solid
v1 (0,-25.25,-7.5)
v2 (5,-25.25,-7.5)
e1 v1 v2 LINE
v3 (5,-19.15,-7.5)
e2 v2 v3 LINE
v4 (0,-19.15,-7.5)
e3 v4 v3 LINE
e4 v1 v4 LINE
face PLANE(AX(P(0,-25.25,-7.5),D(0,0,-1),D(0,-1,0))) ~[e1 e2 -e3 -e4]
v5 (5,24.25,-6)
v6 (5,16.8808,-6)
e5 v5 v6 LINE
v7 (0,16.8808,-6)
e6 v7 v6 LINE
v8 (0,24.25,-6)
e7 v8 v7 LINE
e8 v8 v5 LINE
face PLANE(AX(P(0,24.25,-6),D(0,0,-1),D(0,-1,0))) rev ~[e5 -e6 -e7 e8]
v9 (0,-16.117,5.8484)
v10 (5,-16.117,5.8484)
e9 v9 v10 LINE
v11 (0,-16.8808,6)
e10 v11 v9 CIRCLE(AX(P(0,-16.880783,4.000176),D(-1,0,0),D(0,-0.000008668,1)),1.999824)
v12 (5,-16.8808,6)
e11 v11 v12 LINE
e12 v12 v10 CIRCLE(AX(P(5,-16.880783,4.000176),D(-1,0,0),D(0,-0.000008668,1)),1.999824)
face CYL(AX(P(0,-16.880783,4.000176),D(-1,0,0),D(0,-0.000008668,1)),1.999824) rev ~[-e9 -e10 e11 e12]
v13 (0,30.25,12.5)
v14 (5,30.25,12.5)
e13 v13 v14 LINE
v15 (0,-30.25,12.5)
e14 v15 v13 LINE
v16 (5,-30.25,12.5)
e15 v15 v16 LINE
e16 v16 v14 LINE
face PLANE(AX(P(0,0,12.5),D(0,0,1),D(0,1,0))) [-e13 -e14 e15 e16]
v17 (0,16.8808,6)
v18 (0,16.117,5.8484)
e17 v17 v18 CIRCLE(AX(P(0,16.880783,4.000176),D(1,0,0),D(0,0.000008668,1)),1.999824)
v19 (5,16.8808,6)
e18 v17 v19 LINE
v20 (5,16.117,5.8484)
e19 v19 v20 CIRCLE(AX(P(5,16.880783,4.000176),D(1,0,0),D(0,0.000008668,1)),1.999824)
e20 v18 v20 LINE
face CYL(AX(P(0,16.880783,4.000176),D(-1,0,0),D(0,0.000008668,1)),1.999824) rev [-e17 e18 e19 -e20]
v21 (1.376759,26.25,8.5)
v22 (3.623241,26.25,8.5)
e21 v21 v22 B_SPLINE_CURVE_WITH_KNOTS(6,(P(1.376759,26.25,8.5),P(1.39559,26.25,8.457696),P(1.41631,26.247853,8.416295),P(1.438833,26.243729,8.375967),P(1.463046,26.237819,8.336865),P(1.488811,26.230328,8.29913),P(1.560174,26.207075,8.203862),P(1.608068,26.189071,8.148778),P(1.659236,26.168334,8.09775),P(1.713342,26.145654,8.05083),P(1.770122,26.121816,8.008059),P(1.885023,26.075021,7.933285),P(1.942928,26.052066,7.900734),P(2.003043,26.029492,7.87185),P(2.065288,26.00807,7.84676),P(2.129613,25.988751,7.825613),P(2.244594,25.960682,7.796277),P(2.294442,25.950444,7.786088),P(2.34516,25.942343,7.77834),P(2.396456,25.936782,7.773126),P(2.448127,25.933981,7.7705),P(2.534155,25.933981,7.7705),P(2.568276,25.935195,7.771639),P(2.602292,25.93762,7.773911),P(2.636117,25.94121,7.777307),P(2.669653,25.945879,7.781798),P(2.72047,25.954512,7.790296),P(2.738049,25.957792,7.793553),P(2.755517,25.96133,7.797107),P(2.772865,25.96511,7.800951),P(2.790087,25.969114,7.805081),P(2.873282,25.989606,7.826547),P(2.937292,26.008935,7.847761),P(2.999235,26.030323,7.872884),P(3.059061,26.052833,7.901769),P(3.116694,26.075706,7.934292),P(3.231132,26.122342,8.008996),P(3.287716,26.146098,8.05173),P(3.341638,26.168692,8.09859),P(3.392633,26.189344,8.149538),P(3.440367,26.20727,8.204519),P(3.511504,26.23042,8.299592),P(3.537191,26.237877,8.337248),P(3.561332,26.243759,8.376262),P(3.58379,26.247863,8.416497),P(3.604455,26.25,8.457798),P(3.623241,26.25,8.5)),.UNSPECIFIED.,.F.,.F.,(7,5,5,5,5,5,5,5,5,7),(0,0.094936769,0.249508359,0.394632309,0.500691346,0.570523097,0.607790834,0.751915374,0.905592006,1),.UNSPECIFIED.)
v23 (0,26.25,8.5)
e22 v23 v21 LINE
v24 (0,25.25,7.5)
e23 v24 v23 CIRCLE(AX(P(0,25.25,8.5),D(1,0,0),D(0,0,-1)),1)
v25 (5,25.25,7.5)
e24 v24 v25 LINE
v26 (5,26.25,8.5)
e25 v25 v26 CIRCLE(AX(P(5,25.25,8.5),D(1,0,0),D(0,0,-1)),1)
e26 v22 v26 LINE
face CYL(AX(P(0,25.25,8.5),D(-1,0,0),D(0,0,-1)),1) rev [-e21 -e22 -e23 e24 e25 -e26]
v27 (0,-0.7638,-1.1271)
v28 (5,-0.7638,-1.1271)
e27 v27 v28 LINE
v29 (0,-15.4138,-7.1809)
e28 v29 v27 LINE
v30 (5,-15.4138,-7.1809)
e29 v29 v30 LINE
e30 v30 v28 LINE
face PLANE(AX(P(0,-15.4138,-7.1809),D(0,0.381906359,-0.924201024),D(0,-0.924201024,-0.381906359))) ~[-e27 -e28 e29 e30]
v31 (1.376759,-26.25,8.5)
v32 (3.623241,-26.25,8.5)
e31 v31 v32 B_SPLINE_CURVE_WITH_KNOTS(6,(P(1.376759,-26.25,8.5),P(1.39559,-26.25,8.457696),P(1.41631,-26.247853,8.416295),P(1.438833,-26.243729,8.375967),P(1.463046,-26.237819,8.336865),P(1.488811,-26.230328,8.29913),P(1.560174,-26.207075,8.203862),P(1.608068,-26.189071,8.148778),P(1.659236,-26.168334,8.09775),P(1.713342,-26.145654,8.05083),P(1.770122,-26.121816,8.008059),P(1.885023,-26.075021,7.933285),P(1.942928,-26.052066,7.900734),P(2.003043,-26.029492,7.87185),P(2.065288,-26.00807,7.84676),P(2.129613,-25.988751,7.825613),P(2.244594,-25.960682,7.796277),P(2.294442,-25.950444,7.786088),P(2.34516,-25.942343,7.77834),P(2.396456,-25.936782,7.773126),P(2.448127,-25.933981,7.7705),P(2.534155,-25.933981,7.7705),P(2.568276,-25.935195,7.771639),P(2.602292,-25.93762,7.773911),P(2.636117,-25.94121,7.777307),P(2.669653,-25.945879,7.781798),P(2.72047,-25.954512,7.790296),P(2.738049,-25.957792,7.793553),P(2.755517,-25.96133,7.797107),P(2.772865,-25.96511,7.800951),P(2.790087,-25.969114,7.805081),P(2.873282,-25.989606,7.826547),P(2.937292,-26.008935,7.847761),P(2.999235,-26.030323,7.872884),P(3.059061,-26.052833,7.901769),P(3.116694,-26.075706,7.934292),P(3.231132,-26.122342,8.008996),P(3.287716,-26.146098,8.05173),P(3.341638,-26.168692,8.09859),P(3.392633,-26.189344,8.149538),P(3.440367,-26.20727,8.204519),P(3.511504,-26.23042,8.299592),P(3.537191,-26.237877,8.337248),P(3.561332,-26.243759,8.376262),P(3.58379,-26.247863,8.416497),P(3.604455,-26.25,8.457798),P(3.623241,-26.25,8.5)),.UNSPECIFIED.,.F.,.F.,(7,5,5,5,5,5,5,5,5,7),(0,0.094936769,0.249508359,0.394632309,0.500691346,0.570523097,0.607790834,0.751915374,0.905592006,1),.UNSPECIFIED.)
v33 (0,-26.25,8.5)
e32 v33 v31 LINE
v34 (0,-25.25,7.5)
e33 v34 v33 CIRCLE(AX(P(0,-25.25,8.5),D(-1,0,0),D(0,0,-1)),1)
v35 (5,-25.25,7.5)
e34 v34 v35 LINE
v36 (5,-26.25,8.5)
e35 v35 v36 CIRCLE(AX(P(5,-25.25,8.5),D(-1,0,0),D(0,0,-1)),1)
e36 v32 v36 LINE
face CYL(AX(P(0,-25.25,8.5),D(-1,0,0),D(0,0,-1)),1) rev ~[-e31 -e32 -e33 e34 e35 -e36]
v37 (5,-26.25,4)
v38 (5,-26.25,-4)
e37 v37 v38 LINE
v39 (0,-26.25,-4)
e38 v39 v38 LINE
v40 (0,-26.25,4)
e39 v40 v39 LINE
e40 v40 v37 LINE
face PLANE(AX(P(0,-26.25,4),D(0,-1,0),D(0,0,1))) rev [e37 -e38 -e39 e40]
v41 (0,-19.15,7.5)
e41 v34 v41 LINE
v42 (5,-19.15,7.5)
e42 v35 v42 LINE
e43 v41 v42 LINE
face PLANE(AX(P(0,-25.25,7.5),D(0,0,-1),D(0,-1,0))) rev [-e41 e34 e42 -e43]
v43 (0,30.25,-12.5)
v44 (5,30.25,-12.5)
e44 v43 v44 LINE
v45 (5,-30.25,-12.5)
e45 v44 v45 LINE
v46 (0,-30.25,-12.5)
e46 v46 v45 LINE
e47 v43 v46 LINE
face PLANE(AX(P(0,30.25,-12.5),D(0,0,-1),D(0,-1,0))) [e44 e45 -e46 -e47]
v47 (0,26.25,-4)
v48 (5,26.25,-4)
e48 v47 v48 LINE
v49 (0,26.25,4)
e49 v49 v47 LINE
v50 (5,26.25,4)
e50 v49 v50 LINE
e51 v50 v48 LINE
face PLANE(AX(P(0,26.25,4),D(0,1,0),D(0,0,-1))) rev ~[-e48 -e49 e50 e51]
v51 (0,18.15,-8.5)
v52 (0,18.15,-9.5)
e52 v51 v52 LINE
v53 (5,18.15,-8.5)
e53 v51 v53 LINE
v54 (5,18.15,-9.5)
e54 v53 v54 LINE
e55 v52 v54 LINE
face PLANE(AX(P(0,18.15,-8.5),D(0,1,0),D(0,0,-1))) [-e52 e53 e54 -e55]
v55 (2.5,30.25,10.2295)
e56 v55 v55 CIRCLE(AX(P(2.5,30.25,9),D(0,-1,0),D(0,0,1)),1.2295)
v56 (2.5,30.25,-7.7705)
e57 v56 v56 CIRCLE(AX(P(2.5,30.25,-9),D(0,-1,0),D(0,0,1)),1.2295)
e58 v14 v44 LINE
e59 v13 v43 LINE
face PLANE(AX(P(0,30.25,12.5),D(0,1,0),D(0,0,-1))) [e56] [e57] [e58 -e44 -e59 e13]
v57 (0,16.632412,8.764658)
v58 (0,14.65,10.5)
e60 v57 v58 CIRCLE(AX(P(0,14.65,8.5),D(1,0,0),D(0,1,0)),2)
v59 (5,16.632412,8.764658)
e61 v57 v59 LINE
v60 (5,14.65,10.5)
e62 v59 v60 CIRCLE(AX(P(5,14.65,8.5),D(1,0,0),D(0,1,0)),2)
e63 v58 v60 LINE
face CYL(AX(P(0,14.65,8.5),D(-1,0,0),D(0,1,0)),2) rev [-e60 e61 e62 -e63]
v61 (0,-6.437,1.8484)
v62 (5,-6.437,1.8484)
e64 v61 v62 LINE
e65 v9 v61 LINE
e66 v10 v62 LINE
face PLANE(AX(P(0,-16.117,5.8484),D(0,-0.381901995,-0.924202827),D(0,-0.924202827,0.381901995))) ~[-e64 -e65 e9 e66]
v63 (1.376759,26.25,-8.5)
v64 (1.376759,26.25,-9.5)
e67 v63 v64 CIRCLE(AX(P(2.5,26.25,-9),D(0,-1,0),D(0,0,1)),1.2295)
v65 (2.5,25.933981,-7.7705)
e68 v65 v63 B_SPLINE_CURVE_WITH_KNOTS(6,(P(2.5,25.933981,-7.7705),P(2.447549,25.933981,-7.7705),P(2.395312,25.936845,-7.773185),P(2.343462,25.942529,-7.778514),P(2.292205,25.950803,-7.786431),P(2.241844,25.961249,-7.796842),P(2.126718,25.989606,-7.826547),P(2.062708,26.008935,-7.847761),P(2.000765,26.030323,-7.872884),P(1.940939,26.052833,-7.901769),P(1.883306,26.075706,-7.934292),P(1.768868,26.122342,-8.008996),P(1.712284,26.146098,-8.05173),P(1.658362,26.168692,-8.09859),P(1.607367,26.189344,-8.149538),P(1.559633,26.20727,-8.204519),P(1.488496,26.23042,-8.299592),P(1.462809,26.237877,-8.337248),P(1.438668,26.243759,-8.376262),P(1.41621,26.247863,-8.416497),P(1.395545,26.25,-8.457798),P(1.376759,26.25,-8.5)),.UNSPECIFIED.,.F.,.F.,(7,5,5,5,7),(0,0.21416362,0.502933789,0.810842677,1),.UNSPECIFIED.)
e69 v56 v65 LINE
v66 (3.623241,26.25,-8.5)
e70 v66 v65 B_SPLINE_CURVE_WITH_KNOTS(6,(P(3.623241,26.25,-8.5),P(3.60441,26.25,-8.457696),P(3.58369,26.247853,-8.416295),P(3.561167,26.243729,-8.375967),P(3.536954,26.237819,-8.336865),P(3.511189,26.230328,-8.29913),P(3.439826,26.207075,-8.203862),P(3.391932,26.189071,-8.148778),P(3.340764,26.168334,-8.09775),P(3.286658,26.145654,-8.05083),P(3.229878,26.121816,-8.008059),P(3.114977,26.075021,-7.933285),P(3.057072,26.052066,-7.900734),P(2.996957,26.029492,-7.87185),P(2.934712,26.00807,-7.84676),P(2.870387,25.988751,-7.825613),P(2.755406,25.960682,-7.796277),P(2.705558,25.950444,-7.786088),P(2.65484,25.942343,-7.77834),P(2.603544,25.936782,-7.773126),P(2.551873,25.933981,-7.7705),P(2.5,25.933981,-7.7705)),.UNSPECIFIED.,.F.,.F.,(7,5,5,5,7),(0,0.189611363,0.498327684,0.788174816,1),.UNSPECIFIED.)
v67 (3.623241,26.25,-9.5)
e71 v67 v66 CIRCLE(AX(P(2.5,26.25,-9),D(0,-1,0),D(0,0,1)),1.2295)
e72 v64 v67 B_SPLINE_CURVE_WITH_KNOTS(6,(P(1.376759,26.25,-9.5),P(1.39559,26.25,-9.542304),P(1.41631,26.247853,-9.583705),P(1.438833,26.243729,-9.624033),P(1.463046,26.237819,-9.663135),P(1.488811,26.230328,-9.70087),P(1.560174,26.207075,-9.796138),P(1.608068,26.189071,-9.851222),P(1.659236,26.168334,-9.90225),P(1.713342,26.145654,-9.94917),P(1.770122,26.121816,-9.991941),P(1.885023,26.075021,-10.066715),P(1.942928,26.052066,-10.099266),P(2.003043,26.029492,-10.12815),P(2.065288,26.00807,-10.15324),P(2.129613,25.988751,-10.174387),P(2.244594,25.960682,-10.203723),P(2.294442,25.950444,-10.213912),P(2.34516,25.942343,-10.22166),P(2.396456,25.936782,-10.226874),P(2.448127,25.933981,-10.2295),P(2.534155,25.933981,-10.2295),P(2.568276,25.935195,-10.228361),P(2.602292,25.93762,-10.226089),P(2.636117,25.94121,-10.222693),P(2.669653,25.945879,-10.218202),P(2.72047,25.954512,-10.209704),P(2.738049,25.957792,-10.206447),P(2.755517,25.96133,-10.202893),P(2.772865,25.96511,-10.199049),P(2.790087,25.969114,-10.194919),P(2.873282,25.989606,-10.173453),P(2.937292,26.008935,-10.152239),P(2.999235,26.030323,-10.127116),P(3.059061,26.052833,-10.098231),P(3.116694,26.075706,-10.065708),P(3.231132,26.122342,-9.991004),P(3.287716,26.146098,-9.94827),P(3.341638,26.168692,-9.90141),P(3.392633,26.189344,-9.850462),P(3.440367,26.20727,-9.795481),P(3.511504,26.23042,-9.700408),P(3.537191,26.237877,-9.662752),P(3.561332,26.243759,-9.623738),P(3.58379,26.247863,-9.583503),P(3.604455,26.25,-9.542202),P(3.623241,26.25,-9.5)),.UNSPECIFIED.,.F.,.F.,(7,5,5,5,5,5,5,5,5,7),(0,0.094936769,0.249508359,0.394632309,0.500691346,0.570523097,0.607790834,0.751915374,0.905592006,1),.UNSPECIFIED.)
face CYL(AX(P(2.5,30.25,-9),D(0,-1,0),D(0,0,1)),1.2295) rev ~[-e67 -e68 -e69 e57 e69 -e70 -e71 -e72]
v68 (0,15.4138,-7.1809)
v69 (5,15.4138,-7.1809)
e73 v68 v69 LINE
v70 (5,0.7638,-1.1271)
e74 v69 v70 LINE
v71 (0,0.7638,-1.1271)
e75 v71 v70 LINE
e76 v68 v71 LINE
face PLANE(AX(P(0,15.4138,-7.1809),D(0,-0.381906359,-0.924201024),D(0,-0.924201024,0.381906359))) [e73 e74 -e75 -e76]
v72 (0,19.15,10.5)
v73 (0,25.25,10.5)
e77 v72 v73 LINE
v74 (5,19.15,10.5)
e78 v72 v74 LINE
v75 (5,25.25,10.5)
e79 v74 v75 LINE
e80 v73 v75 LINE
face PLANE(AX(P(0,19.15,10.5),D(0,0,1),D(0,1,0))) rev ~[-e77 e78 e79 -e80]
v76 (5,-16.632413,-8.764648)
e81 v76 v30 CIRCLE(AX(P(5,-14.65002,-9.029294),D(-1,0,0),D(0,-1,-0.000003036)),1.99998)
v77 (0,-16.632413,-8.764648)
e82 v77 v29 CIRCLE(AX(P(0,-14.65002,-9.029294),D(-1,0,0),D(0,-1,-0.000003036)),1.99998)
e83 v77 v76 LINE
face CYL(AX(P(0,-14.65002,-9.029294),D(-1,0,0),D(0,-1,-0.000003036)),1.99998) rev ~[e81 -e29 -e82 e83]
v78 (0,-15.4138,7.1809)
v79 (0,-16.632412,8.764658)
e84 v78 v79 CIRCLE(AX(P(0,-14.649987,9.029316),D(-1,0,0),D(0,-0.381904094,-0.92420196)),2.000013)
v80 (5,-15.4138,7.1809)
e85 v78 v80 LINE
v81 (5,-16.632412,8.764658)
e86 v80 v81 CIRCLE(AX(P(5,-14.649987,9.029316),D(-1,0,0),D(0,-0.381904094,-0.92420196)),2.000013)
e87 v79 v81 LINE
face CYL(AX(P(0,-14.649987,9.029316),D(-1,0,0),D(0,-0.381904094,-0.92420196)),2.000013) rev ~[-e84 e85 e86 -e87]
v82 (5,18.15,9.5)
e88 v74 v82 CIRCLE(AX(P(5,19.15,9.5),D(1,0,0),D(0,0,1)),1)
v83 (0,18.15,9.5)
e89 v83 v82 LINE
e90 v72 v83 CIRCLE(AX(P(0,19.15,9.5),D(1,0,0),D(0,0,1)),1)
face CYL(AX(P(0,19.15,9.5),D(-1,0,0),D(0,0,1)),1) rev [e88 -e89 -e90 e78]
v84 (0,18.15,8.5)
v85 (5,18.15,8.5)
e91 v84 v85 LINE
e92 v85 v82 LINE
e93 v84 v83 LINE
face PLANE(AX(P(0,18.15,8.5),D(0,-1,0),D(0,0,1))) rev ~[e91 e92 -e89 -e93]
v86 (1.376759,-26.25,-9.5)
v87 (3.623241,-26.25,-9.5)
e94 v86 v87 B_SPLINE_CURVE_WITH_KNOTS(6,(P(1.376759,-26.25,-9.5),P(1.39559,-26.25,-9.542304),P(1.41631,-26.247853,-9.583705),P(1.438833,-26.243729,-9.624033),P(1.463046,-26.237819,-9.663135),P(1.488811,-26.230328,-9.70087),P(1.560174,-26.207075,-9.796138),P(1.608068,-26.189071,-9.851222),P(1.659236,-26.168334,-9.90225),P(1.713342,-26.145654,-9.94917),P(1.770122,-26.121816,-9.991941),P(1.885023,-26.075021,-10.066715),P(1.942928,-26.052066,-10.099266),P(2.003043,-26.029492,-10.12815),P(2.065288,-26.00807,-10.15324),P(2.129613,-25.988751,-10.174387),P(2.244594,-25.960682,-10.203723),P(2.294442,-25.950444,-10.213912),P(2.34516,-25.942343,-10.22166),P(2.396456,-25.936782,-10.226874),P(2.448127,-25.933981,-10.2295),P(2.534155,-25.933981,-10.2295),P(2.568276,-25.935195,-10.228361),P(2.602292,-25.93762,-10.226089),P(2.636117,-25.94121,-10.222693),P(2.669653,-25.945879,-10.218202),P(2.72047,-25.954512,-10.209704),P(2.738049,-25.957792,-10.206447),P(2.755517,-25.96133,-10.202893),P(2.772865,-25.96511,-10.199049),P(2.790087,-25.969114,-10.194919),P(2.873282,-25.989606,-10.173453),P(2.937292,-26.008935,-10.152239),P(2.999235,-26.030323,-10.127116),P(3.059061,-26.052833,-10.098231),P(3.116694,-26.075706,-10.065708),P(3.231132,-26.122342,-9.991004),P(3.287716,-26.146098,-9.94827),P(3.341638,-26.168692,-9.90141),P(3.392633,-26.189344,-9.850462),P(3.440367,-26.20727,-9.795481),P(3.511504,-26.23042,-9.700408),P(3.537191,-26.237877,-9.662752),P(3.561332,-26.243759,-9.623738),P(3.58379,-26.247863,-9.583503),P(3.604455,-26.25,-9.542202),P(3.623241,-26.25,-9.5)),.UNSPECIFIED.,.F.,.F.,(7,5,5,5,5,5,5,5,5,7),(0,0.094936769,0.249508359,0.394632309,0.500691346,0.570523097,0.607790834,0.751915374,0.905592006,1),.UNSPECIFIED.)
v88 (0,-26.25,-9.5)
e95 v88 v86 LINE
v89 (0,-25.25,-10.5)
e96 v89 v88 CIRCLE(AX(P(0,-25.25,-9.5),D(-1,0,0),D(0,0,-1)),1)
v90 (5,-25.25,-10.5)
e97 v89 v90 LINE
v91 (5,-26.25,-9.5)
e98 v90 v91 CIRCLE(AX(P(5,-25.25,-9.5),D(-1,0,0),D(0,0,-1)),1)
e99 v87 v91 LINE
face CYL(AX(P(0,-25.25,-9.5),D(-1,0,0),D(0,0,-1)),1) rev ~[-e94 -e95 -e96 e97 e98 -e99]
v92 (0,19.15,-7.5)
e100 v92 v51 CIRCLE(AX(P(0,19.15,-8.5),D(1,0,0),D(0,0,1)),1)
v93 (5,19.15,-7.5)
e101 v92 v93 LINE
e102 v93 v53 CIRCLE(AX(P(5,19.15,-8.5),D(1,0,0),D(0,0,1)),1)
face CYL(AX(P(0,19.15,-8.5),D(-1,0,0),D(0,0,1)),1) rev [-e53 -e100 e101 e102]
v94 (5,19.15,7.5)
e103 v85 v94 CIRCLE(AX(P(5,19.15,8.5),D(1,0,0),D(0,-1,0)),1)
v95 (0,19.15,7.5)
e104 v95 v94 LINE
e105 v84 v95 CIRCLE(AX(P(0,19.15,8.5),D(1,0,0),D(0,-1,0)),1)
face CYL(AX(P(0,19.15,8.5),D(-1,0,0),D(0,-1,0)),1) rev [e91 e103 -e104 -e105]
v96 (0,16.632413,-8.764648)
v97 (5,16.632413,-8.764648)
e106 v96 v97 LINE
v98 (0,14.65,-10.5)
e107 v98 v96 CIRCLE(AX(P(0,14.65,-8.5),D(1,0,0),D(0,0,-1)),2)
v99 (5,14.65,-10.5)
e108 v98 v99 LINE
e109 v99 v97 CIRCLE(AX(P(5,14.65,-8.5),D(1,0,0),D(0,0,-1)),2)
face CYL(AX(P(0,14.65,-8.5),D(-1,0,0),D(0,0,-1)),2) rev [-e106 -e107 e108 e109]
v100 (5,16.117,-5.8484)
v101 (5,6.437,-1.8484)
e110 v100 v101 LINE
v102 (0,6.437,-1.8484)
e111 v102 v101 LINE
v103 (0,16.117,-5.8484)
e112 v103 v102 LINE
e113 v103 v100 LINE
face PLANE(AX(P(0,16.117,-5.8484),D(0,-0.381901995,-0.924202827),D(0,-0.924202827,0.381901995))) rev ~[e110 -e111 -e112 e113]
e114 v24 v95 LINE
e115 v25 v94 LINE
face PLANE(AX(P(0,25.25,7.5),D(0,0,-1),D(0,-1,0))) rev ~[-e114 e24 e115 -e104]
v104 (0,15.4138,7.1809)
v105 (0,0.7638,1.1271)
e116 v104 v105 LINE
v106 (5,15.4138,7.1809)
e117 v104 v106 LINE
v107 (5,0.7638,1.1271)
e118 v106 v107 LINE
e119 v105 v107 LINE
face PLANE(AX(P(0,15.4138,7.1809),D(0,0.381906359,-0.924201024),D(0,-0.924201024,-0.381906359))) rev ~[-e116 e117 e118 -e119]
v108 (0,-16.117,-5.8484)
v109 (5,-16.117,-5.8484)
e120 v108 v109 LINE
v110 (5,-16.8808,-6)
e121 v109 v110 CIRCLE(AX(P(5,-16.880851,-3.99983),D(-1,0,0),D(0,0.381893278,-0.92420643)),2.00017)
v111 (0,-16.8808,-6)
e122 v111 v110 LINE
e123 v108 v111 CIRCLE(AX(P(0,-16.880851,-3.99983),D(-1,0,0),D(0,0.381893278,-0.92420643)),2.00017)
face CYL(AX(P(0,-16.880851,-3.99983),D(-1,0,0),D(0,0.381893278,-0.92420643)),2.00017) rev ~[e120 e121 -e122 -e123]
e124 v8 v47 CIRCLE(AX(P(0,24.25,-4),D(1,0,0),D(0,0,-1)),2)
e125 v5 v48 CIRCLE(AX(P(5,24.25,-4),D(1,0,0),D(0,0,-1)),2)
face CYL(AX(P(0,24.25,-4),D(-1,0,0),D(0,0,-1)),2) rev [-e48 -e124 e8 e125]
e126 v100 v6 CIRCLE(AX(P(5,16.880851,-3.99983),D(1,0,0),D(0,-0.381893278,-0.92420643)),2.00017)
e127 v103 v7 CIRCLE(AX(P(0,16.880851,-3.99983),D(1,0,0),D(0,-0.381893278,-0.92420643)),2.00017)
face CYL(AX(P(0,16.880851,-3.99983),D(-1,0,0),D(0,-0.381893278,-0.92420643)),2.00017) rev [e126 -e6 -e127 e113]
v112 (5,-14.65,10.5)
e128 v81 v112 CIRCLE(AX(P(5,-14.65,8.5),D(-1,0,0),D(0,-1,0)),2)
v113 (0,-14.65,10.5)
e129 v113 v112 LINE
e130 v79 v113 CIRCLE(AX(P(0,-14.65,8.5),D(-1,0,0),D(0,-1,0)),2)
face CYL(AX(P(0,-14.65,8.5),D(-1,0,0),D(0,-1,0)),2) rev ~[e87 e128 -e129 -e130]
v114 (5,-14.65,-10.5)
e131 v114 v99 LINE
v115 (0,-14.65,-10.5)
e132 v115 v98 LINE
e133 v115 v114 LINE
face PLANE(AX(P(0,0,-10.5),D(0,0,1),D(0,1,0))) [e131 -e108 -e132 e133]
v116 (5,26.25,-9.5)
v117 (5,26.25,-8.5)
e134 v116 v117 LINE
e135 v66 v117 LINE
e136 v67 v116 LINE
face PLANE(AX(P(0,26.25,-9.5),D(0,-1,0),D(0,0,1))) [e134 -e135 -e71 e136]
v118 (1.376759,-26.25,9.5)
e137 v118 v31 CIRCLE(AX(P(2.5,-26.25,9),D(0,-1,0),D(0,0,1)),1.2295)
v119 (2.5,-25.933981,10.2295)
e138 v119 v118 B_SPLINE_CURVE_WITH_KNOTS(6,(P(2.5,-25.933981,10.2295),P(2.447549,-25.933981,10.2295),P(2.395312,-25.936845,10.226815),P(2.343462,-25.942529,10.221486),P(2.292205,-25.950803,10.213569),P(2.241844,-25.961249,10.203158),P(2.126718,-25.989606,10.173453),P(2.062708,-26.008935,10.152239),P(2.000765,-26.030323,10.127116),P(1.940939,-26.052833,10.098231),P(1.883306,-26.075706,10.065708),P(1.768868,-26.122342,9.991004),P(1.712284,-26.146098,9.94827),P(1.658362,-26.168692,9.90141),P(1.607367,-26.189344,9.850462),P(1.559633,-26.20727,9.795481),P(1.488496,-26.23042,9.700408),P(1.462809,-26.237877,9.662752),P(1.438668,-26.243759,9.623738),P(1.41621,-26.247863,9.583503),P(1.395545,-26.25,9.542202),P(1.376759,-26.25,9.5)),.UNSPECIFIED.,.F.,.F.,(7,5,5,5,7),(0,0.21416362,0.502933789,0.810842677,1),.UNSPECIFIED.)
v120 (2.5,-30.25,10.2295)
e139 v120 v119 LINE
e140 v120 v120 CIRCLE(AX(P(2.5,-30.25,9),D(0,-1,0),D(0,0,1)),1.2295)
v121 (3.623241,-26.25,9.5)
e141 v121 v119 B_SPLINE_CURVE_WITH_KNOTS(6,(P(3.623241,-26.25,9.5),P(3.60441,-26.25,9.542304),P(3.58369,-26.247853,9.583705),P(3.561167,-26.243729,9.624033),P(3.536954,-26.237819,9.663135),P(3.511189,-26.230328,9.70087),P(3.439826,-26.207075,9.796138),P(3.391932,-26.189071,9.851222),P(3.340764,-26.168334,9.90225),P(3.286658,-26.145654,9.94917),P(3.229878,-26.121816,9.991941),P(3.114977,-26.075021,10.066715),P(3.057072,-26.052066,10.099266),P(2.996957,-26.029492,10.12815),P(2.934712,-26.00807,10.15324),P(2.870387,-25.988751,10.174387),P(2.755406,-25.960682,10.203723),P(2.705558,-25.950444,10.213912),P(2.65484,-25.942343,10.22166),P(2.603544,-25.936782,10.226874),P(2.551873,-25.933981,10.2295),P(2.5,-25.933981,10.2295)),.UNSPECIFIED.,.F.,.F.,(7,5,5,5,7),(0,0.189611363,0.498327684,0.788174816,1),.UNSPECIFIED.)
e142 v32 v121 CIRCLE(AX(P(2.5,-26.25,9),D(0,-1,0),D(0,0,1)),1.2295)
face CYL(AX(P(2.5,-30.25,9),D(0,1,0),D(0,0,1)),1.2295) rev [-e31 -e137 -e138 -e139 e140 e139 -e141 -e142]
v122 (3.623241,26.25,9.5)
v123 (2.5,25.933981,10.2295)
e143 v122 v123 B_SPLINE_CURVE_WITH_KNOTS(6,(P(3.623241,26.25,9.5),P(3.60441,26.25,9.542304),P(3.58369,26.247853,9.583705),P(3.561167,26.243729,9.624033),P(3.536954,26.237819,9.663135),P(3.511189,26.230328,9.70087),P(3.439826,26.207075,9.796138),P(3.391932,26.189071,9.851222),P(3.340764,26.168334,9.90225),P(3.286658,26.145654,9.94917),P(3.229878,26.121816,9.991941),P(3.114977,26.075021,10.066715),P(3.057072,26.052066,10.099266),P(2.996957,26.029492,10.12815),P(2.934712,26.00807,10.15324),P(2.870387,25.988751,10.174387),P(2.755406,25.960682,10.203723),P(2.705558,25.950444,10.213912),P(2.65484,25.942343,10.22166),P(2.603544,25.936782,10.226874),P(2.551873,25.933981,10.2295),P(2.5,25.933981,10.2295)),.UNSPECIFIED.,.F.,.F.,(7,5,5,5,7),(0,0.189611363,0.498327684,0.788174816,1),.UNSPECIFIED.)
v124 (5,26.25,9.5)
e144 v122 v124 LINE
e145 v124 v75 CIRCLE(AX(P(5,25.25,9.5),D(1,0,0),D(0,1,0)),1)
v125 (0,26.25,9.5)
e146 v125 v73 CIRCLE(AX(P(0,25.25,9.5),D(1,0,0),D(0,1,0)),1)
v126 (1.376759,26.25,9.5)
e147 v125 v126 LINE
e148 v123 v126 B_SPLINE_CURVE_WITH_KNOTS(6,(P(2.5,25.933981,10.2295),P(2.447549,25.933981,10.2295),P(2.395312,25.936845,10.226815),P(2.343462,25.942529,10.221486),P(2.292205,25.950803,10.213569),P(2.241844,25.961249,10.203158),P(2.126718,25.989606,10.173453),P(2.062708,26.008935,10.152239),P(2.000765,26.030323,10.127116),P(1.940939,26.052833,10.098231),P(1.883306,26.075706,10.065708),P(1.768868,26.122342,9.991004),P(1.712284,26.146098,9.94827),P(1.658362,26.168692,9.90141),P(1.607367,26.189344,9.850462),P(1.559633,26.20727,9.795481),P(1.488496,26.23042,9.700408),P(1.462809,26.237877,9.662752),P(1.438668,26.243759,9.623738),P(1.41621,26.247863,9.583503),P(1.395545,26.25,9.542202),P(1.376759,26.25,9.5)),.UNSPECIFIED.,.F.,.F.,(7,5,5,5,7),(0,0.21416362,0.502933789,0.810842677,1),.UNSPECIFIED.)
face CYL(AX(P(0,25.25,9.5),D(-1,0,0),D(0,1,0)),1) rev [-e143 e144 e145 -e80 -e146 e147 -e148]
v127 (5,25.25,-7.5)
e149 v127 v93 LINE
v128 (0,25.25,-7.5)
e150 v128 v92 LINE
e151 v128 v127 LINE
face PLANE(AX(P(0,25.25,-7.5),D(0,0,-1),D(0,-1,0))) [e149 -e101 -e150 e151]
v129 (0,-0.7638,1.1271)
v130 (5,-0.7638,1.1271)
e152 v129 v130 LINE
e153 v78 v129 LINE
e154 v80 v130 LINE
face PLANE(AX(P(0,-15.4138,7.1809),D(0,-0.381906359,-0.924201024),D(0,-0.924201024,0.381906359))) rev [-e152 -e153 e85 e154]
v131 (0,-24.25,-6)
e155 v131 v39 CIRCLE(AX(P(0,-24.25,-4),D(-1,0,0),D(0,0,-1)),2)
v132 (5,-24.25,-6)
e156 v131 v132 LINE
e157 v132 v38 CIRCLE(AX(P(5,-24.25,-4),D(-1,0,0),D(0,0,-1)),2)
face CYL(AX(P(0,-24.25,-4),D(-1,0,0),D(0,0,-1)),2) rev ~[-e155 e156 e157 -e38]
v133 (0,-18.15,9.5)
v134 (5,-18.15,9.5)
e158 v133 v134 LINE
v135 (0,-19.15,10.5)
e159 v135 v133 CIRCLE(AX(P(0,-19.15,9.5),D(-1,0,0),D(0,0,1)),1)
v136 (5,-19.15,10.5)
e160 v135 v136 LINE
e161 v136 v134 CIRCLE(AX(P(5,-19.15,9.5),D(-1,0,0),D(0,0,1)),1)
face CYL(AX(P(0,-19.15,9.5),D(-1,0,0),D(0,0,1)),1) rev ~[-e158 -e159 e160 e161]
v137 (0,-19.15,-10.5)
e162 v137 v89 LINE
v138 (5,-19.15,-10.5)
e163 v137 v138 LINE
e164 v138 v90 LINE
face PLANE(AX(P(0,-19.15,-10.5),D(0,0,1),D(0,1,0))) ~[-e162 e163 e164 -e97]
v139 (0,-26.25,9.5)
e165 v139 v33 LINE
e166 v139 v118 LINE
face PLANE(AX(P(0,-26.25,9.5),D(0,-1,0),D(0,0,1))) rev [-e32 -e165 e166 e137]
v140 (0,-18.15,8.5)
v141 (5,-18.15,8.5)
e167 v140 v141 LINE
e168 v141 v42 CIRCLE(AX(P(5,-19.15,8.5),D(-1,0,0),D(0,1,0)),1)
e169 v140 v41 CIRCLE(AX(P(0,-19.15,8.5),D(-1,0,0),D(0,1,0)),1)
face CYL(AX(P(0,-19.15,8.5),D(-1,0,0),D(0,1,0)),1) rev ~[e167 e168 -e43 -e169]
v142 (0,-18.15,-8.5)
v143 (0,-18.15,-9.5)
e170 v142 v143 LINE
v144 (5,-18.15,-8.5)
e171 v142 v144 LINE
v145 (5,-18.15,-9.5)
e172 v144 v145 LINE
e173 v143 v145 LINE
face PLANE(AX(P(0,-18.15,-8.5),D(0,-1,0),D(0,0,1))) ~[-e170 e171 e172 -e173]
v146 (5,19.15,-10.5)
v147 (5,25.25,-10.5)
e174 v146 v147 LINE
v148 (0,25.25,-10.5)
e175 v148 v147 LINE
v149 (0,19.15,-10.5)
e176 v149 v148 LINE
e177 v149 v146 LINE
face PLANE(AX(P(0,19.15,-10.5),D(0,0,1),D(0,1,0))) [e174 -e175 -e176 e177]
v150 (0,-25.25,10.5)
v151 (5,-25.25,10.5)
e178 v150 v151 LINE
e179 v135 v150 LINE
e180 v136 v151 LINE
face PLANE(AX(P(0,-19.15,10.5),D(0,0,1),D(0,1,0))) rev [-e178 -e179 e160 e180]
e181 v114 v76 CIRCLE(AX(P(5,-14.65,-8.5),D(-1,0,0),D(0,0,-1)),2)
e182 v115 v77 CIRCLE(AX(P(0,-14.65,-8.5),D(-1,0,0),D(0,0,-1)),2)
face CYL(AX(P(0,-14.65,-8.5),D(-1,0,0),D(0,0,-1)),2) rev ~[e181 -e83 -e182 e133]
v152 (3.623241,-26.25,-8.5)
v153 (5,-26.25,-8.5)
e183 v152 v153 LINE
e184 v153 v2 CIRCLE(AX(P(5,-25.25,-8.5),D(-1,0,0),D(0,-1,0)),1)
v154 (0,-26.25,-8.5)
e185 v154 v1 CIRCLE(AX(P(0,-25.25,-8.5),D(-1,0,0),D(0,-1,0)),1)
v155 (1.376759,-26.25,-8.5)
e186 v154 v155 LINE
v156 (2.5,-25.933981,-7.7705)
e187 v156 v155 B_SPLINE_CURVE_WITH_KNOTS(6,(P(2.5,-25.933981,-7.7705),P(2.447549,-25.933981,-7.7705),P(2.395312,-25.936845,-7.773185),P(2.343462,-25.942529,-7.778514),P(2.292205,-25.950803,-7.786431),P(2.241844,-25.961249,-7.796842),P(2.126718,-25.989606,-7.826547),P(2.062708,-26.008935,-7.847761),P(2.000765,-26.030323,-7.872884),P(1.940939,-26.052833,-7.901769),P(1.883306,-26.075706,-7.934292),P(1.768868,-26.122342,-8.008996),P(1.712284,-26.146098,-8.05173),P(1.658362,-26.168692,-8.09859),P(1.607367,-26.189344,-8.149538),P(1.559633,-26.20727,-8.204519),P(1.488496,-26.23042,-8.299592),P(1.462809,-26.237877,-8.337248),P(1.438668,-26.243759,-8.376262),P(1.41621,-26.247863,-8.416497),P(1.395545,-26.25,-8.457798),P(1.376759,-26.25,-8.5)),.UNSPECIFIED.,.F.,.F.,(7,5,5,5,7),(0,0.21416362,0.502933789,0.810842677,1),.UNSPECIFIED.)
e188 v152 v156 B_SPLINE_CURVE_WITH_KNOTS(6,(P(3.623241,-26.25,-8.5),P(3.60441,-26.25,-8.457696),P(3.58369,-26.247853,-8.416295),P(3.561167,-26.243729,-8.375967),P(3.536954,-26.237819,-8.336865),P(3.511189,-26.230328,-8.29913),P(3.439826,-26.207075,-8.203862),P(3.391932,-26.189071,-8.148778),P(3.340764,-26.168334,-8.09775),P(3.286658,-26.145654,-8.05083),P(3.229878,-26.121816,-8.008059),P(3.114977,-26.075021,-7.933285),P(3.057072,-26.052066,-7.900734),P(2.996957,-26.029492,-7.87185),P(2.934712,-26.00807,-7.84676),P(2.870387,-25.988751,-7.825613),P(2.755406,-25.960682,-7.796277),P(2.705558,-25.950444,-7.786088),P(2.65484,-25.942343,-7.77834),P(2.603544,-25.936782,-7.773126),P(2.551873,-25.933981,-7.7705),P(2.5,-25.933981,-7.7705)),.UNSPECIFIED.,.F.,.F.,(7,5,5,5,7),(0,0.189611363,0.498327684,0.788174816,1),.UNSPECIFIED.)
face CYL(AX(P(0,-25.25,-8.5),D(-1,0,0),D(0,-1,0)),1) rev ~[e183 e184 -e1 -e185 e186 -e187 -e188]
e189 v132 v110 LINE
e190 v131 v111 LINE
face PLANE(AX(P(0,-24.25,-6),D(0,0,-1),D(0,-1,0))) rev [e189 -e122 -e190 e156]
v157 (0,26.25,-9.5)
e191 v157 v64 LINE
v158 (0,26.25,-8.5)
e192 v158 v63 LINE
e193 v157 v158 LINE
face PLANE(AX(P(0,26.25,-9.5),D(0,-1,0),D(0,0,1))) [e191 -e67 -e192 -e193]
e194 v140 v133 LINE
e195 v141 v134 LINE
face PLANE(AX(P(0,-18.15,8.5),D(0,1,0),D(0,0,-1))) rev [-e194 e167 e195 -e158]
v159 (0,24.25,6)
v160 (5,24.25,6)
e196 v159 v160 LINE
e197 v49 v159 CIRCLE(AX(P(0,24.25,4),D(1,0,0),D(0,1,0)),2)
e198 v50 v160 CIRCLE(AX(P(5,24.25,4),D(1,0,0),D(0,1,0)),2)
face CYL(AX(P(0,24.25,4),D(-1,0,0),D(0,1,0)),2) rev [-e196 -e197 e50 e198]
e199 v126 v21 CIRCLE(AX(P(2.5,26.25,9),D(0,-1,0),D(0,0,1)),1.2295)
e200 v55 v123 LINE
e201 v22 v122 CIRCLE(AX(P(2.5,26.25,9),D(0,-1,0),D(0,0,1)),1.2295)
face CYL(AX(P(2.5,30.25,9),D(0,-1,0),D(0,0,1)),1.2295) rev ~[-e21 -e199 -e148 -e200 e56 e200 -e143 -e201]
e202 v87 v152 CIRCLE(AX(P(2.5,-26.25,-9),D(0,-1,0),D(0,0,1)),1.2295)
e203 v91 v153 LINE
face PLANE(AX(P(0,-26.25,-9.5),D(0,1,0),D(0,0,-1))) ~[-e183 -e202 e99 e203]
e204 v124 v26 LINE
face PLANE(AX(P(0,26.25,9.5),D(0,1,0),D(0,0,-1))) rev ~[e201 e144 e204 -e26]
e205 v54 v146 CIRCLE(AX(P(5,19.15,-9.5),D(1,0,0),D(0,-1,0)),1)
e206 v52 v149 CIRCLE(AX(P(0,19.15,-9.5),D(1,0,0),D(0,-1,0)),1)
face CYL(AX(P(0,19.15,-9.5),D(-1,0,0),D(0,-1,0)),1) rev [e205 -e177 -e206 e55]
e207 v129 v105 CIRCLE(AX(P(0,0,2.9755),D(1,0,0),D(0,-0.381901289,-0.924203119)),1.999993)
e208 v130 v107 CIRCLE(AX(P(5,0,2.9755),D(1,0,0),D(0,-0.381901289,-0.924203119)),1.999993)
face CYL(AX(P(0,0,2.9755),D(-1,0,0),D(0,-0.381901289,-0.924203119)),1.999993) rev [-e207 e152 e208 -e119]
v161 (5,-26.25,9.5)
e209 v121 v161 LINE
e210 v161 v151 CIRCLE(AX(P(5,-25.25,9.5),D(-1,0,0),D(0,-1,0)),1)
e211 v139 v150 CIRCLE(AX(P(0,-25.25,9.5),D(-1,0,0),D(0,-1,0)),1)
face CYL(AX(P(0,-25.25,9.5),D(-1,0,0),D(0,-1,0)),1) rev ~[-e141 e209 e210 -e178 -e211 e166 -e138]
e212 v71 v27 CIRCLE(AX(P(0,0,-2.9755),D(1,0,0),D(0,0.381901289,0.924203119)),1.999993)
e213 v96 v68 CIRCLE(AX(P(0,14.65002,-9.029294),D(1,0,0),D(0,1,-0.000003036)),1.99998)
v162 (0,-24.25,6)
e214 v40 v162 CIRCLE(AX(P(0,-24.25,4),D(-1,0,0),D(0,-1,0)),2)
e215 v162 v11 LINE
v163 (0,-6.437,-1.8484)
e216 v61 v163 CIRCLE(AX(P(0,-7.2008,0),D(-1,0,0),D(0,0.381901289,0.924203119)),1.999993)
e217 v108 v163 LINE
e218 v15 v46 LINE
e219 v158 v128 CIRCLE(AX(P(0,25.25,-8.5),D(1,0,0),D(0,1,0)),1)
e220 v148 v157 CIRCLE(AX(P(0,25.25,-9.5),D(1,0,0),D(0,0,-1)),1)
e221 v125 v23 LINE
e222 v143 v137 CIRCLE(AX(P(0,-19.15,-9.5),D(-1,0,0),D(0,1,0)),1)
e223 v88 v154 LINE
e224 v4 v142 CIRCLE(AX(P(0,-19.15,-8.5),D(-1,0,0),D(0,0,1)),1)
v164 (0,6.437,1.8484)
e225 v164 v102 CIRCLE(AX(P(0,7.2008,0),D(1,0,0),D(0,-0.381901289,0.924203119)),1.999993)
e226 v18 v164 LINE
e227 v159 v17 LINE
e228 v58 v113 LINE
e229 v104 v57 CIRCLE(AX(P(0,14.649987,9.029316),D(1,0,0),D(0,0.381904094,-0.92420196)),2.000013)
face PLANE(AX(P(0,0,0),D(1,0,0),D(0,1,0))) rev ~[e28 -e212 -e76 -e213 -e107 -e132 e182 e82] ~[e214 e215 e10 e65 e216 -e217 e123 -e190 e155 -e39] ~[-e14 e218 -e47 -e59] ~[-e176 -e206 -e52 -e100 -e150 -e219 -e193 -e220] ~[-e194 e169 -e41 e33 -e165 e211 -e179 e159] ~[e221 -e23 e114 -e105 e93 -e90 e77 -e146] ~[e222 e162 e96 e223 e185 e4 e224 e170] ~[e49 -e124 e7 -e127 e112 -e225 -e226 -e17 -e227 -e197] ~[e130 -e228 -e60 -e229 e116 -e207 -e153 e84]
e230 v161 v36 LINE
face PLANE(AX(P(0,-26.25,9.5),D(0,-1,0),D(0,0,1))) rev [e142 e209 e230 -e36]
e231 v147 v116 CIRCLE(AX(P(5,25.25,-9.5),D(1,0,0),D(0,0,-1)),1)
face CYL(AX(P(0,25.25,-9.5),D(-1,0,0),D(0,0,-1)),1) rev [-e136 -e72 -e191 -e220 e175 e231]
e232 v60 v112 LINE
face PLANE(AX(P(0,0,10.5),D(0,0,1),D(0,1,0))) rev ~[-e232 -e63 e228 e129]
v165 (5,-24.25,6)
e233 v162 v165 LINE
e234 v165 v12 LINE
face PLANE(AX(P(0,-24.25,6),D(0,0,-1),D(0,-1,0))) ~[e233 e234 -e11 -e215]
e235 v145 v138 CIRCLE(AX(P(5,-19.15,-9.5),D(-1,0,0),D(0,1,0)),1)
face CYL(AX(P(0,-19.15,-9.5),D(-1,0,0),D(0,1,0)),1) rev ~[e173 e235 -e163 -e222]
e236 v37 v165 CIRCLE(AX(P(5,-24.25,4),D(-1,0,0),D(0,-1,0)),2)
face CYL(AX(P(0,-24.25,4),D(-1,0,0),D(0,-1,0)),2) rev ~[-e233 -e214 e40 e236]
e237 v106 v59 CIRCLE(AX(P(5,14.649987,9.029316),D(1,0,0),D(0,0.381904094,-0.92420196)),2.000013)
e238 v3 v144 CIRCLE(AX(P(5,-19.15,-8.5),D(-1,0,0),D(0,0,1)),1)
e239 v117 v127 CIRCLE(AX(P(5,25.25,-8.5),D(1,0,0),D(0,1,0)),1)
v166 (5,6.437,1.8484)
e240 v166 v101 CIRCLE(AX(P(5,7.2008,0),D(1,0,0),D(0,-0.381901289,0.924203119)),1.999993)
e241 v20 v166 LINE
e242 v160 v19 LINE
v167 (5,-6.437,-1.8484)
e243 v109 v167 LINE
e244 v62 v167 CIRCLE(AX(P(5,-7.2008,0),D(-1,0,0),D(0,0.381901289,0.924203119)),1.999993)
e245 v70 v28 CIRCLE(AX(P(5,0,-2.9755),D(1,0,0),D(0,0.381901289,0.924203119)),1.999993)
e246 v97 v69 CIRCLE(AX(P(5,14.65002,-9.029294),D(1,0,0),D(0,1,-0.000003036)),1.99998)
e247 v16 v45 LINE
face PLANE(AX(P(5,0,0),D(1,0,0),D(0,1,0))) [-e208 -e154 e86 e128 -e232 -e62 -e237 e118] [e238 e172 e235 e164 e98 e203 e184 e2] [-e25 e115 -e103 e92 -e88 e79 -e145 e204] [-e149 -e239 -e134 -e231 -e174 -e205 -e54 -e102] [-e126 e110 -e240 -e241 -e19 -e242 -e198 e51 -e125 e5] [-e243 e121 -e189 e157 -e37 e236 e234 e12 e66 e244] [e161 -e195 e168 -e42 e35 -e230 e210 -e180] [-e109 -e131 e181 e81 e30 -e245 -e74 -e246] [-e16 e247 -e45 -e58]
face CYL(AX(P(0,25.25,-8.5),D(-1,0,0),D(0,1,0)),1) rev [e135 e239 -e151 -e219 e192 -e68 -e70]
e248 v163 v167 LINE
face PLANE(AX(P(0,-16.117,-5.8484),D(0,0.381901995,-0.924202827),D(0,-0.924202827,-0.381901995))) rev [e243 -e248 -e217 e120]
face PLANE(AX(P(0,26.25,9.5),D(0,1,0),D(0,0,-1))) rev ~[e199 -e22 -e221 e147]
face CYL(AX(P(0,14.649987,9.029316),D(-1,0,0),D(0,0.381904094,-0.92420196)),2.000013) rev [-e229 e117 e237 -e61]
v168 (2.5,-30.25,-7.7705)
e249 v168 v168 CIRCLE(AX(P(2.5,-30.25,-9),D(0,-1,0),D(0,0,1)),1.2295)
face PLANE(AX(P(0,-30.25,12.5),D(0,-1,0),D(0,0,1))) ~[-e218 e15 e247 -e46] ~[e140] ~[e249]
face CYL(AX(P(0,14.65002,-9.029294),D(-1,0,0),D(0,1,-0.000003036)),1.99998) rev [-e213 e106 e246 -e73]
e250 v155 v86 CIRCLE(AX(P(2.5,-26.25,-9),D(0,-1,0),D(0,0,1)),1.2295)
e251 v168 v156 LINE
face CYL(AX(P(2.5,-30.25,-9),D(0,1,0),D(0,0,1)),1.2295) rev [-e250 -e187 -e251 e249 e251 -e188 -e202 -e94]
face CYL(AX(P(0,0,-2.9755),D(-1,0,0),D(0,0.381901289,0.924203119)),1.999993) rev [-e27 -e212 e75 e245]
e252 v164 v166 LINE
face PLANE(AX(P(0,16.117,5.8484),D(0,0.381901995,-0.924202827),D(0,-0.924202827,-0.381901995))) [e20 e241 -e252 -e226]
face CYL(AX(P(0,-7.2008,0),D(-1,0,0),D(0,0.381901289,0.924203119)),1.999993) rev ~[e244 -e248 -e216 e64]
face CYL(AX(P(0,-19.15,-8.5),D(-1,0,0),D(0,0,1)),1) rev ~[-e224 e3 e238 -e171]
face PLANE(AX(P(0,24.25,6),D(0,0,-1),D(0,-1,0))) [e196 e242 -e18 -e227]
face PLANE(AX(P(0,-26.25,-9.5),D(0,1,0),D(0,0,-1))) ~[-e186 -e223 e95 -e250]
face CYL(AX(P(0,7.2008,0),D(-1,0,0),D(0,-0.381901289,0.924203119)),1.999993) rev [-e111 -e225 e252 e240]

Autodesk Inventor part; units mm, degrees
ref_plane "YZ Plane" through (0, 0, 0) normal (1, 0, 0) x (0, 1, 0)
ref_plane "XZ Plane" through (0, 0, 0) normal (0, 1, 0) x (-1, 0, 0)
ref_plane "XY Plane" through (0, 0, 0) normal (0, 0, 1) x (1, 0, 0)
sketch "スケッチ1" plane through (0, 0, 0) normal (1, 0, 0) x (0, 1, 0)
  line L0 (-30.25, 12.5) -> (30.25, 12.5)
  line L1 (30.25, 12.5) -> (30.25, -12.5)
  line L2 (30.25, -12.5) -> (-30.25, -12.5)
  line L3 (-30.25, -12.5) -> (-30.25, 12.5)
  line L4 (-30.25, 12.5) -> (30.25, -12.5) construction
  line L5 (30.25, 12.5) -> (-30.25, -12.5) construction
  line L6 (30.25, 9) -> (26.25, 9) construction
  line L7 (26.25, 10.5) -> (26.25, 7.5) construction
  line L8 (26.25, 7.5) -> (30.25, 7.5) construction
  line L9 (26.25, 10.5) -> (30.25, 10.5) construction
  line L10 (0, 12.5) -> (0, -12.5)
  line L11 (-30.25, 0) -> (30.25, 0) construction
  line L12 (30.25, -9) -> (26.25, -9) construction
  line L13 (26.25, -10.5) -> (26.25, -7.5) construction
  line L14 (26.25, -7.5) -> (30.25, -7.5) construction
  line L15 (26.25, -10.5) -> (30.25, -10.5) construction
  line L16 (26.25, 1.5) -> (26.25, -1.5) construction
  line L17 (26.25, -1.5) -> (30.25, -1.5) construction
  line L18 (26.25, 1.5) -> (30.25, 1.5) construction
  line L19 (19.15, 10.5) -> (25.25, 10.5)
  line L20 (26.25, 9.5) -> (26.25, 8.5)
  line L21 (25.25, 7.5) -> (19.15, 7.5)
  line L22 (18.15, 8.5) -> (18.15, 9.5)
  line L23 (18.15, 10.5) -> (26.25, 7.5) construction
  line L24 (26.25, 10.5) -> (18.15, 7.5) construction
  arc A0 (19.15, 10.5) -> (18.15, 9.5) centre (19.15, 9.5) ccw
  arc A1 (18.15, 8.5) -> (19.15, 7.5) centre (19.15, 8.5) ccw
  arc A2 (25.25, 7.5) -> (26.25, 8.5) centre (25.25, 8.5) ccw
  arc A3 (26.25, 9.5) -> (25.25, 10.5) centre (25.25, 9.5) ccw
  line L25 (24.25, 6) -> (16.8808, 6)
  line L26 (16.117, 5.8484) -> (6.437, 1.8484)
  line L27 (24.25, -6) -> (16.8808, -6)
  line L28 (16.117, -5.8484) -> (6.437, -1.8484)
  line L29 (26.25, 4) -> (26.25, -4)
  line L30 (16.65, 8.5) -> (16.65, 9.0293)
  line L31 (15.4138, 7.1809) -> (0.7638, 1.1271)
  line L32 (-16.65, 8.5) -> (-16.65, 9.0293)
  line L33 (-15.4138, 7.1809) -> (-0.7638, 1.1271)
  line L34 (-14.65, 10.5) -> (14.65, 10.5)
  arc A4 (-14.65, 10.5) -> (-16.65, 8.5) centre (-14.65, 8.5) ccw
  arc A5 (-16.65, 9.0293) -> (-15.4138, 7.1809) centre (-14.65, 9.0293) ccw
  arc A6 (-0.7638, 1.1271) -> (0.7638, 1.1271) centre (0, 2.9755) ccw
  arc A7 (15.4138, 7.1809) -> (16.65, 9.0293) centre (14.65, 9.0293) ccw
  arc A8 (16.65, 8.5) -> (14.65, 10.5) centre (14.65, 8.5) ccw
  arc A9 (16.8808, 6) -> (16.117, 5.8484) centre (16.8808, 4) ccw
  arc A10 (6.437, 1.8484) -> (6.437, -1.8484) centre (7.2008, 0) ccw
  arc A11 (16.117, -5.8484) -> (16.8808, -6) centre (16.8808, -4) ccw
  arc A12 (24.25, -6) -> (26.25, -4) centre (24.25, -4) ccw
  arc A13 (26.25, 4) -> (24.25, 6) centre (24.25, 4) ccw
  line L35 (16.65, -8.5) -> (16.65, -9.0293)
  line L36 (15.4138, -7.1809) -> (0.7638, -1.1271)
  line L37 (-16.65, -8.5) -> (-16.65, -9.0293)
  line L38 (-15.4138, -7.1809) -> (-0.7638, -1.1271)
  line L39 (-14.65, -10.5) -> (14.65, -10.5)
  arc A14 (-16.65, -8.5) -> (-14.65, -10.5) centre (-14.65, -8.5) ccw
  arc A15 (-15.4138, -7.1809) -> (-16.65, -9.0293) centre (-14.65, -9.0293) ccw
  arc A16 (0.7638, -1.1271) -> (-0.7638, -1.1271) centre (0, -2.9755) ccw
  arc A17 (16.65, -9.0293) -> (15.4138, -7.1809) centre (14.65, -9.0293) ccw
  arc A18 (14.65, -10.5) -> (16.65, -8.5) centre (14.65, -8.5) ccw
  line L40 (19.15, -10.5) -> (25.25, -10.5)
  line L41 (26.25, -9.5) -> (26.25, -8.5)
  line L42 (25.25, -7.5) -> (19.15, -7.5)
  line L43 (18.15, -8.5) -> (18.15, -9.5)
  arc A19 (18.15, -9.5) -> (19.15, -10.5) centre (19.15, -9.5) ccw
  arc A20 (19.15, -7.5) -> (18.15, -8.5) centre (19.15, -8.5) ccw
  arc A21 (26.25, -8.5) -> (25.25, -7.5) centre (25.25, -8.5) ccw
  arc A22 (25.25, -10.5) -> (26.25, -9.5) centre (25.25, -9.5) ccw
  point P0 (0, 0)
  point P1 (26.25, 0)
  point P2 (22.2, 9)
  point P3 (26.25, 6)
  point P4 (16.4839, 6)
  point P5 (1.9639, 0)
  point P6 (26.25, -6)
  point P7 (16.4839, -6)
  point P8 (16.65, 10.5)
  point P9 (16.65, 7.6917)
  point P10 (0, 0.8115)
  point P11 (-16.65, 10.5)
  point P12 (-16.65, 7.6917)
  point P13 (0, -10.5)
  point P14 (0, 10.5)
  point P15 (0, 0.9755)
  point P16 (0, -0.9755)
  point P17 (16.6324, -8.7646)
  point P18 (16.6324, 8.7646)
  point P19 (-16.6324, 8.7646)
  point P20 (-16.6324, -8.7646)
  dimension "d0" = 60.5
  dimension "d1" = 25
  dimension "d2" = 4
  dimension "d3" = 3
  dimension "d5" = 3
  dimension "d6" = 18
  dimension "d8" = 1
  dimension "d10" = 2
  dimension "d11" = 1.5
  dimension "d12" = 1.5
  dimension "d13" = 1.5
  dimension "d14" = 2
extrude "押し出し1" add sketch "スケッチ1" along normal blind 5 contours A7 L30 A8 | A18 L35 A17 | L0 L1 L2 L10 L39 A18 A17 L36 A16 A6 L31 A7 A8 L34
sketch "スケッチ2" plane through (0, 30.25, 12.5) normal (0, 1, 0) x (1, 0, 0)
  line L0 (5, 25) -> (5, 0) projected
  line L1 (5, 3.5) -> (0, 3.5) construction
  line L2 (0, 25) -> (0, 0) projected
  line L3 (5, 21.5) -> (0, 21.5) construction
  line L4 (5, 3.5) -> (0, 3.5) construction
  point P0 (2.5, 3.5)
  point P1 (2.5, 21.5)
  point P2 (2.5, 21.5)
  point P3 (2.5, 3.5)
hole "穴1" at (2.5, 30.25, -9) at (2.5, 30.25, 9) direction (0, -1, 0) diameter 2.459 depth 5 thread size "M3x0.5" class "6H" standard "ISO Metric profile"
mirror "ミラー1" about plane through (0, 0, -10.5) normal (0, -1, 0)
equation "\"d13\" = d11"
properties part number "BackLink_diagonal" material "アルミニウム 2014-T4"
